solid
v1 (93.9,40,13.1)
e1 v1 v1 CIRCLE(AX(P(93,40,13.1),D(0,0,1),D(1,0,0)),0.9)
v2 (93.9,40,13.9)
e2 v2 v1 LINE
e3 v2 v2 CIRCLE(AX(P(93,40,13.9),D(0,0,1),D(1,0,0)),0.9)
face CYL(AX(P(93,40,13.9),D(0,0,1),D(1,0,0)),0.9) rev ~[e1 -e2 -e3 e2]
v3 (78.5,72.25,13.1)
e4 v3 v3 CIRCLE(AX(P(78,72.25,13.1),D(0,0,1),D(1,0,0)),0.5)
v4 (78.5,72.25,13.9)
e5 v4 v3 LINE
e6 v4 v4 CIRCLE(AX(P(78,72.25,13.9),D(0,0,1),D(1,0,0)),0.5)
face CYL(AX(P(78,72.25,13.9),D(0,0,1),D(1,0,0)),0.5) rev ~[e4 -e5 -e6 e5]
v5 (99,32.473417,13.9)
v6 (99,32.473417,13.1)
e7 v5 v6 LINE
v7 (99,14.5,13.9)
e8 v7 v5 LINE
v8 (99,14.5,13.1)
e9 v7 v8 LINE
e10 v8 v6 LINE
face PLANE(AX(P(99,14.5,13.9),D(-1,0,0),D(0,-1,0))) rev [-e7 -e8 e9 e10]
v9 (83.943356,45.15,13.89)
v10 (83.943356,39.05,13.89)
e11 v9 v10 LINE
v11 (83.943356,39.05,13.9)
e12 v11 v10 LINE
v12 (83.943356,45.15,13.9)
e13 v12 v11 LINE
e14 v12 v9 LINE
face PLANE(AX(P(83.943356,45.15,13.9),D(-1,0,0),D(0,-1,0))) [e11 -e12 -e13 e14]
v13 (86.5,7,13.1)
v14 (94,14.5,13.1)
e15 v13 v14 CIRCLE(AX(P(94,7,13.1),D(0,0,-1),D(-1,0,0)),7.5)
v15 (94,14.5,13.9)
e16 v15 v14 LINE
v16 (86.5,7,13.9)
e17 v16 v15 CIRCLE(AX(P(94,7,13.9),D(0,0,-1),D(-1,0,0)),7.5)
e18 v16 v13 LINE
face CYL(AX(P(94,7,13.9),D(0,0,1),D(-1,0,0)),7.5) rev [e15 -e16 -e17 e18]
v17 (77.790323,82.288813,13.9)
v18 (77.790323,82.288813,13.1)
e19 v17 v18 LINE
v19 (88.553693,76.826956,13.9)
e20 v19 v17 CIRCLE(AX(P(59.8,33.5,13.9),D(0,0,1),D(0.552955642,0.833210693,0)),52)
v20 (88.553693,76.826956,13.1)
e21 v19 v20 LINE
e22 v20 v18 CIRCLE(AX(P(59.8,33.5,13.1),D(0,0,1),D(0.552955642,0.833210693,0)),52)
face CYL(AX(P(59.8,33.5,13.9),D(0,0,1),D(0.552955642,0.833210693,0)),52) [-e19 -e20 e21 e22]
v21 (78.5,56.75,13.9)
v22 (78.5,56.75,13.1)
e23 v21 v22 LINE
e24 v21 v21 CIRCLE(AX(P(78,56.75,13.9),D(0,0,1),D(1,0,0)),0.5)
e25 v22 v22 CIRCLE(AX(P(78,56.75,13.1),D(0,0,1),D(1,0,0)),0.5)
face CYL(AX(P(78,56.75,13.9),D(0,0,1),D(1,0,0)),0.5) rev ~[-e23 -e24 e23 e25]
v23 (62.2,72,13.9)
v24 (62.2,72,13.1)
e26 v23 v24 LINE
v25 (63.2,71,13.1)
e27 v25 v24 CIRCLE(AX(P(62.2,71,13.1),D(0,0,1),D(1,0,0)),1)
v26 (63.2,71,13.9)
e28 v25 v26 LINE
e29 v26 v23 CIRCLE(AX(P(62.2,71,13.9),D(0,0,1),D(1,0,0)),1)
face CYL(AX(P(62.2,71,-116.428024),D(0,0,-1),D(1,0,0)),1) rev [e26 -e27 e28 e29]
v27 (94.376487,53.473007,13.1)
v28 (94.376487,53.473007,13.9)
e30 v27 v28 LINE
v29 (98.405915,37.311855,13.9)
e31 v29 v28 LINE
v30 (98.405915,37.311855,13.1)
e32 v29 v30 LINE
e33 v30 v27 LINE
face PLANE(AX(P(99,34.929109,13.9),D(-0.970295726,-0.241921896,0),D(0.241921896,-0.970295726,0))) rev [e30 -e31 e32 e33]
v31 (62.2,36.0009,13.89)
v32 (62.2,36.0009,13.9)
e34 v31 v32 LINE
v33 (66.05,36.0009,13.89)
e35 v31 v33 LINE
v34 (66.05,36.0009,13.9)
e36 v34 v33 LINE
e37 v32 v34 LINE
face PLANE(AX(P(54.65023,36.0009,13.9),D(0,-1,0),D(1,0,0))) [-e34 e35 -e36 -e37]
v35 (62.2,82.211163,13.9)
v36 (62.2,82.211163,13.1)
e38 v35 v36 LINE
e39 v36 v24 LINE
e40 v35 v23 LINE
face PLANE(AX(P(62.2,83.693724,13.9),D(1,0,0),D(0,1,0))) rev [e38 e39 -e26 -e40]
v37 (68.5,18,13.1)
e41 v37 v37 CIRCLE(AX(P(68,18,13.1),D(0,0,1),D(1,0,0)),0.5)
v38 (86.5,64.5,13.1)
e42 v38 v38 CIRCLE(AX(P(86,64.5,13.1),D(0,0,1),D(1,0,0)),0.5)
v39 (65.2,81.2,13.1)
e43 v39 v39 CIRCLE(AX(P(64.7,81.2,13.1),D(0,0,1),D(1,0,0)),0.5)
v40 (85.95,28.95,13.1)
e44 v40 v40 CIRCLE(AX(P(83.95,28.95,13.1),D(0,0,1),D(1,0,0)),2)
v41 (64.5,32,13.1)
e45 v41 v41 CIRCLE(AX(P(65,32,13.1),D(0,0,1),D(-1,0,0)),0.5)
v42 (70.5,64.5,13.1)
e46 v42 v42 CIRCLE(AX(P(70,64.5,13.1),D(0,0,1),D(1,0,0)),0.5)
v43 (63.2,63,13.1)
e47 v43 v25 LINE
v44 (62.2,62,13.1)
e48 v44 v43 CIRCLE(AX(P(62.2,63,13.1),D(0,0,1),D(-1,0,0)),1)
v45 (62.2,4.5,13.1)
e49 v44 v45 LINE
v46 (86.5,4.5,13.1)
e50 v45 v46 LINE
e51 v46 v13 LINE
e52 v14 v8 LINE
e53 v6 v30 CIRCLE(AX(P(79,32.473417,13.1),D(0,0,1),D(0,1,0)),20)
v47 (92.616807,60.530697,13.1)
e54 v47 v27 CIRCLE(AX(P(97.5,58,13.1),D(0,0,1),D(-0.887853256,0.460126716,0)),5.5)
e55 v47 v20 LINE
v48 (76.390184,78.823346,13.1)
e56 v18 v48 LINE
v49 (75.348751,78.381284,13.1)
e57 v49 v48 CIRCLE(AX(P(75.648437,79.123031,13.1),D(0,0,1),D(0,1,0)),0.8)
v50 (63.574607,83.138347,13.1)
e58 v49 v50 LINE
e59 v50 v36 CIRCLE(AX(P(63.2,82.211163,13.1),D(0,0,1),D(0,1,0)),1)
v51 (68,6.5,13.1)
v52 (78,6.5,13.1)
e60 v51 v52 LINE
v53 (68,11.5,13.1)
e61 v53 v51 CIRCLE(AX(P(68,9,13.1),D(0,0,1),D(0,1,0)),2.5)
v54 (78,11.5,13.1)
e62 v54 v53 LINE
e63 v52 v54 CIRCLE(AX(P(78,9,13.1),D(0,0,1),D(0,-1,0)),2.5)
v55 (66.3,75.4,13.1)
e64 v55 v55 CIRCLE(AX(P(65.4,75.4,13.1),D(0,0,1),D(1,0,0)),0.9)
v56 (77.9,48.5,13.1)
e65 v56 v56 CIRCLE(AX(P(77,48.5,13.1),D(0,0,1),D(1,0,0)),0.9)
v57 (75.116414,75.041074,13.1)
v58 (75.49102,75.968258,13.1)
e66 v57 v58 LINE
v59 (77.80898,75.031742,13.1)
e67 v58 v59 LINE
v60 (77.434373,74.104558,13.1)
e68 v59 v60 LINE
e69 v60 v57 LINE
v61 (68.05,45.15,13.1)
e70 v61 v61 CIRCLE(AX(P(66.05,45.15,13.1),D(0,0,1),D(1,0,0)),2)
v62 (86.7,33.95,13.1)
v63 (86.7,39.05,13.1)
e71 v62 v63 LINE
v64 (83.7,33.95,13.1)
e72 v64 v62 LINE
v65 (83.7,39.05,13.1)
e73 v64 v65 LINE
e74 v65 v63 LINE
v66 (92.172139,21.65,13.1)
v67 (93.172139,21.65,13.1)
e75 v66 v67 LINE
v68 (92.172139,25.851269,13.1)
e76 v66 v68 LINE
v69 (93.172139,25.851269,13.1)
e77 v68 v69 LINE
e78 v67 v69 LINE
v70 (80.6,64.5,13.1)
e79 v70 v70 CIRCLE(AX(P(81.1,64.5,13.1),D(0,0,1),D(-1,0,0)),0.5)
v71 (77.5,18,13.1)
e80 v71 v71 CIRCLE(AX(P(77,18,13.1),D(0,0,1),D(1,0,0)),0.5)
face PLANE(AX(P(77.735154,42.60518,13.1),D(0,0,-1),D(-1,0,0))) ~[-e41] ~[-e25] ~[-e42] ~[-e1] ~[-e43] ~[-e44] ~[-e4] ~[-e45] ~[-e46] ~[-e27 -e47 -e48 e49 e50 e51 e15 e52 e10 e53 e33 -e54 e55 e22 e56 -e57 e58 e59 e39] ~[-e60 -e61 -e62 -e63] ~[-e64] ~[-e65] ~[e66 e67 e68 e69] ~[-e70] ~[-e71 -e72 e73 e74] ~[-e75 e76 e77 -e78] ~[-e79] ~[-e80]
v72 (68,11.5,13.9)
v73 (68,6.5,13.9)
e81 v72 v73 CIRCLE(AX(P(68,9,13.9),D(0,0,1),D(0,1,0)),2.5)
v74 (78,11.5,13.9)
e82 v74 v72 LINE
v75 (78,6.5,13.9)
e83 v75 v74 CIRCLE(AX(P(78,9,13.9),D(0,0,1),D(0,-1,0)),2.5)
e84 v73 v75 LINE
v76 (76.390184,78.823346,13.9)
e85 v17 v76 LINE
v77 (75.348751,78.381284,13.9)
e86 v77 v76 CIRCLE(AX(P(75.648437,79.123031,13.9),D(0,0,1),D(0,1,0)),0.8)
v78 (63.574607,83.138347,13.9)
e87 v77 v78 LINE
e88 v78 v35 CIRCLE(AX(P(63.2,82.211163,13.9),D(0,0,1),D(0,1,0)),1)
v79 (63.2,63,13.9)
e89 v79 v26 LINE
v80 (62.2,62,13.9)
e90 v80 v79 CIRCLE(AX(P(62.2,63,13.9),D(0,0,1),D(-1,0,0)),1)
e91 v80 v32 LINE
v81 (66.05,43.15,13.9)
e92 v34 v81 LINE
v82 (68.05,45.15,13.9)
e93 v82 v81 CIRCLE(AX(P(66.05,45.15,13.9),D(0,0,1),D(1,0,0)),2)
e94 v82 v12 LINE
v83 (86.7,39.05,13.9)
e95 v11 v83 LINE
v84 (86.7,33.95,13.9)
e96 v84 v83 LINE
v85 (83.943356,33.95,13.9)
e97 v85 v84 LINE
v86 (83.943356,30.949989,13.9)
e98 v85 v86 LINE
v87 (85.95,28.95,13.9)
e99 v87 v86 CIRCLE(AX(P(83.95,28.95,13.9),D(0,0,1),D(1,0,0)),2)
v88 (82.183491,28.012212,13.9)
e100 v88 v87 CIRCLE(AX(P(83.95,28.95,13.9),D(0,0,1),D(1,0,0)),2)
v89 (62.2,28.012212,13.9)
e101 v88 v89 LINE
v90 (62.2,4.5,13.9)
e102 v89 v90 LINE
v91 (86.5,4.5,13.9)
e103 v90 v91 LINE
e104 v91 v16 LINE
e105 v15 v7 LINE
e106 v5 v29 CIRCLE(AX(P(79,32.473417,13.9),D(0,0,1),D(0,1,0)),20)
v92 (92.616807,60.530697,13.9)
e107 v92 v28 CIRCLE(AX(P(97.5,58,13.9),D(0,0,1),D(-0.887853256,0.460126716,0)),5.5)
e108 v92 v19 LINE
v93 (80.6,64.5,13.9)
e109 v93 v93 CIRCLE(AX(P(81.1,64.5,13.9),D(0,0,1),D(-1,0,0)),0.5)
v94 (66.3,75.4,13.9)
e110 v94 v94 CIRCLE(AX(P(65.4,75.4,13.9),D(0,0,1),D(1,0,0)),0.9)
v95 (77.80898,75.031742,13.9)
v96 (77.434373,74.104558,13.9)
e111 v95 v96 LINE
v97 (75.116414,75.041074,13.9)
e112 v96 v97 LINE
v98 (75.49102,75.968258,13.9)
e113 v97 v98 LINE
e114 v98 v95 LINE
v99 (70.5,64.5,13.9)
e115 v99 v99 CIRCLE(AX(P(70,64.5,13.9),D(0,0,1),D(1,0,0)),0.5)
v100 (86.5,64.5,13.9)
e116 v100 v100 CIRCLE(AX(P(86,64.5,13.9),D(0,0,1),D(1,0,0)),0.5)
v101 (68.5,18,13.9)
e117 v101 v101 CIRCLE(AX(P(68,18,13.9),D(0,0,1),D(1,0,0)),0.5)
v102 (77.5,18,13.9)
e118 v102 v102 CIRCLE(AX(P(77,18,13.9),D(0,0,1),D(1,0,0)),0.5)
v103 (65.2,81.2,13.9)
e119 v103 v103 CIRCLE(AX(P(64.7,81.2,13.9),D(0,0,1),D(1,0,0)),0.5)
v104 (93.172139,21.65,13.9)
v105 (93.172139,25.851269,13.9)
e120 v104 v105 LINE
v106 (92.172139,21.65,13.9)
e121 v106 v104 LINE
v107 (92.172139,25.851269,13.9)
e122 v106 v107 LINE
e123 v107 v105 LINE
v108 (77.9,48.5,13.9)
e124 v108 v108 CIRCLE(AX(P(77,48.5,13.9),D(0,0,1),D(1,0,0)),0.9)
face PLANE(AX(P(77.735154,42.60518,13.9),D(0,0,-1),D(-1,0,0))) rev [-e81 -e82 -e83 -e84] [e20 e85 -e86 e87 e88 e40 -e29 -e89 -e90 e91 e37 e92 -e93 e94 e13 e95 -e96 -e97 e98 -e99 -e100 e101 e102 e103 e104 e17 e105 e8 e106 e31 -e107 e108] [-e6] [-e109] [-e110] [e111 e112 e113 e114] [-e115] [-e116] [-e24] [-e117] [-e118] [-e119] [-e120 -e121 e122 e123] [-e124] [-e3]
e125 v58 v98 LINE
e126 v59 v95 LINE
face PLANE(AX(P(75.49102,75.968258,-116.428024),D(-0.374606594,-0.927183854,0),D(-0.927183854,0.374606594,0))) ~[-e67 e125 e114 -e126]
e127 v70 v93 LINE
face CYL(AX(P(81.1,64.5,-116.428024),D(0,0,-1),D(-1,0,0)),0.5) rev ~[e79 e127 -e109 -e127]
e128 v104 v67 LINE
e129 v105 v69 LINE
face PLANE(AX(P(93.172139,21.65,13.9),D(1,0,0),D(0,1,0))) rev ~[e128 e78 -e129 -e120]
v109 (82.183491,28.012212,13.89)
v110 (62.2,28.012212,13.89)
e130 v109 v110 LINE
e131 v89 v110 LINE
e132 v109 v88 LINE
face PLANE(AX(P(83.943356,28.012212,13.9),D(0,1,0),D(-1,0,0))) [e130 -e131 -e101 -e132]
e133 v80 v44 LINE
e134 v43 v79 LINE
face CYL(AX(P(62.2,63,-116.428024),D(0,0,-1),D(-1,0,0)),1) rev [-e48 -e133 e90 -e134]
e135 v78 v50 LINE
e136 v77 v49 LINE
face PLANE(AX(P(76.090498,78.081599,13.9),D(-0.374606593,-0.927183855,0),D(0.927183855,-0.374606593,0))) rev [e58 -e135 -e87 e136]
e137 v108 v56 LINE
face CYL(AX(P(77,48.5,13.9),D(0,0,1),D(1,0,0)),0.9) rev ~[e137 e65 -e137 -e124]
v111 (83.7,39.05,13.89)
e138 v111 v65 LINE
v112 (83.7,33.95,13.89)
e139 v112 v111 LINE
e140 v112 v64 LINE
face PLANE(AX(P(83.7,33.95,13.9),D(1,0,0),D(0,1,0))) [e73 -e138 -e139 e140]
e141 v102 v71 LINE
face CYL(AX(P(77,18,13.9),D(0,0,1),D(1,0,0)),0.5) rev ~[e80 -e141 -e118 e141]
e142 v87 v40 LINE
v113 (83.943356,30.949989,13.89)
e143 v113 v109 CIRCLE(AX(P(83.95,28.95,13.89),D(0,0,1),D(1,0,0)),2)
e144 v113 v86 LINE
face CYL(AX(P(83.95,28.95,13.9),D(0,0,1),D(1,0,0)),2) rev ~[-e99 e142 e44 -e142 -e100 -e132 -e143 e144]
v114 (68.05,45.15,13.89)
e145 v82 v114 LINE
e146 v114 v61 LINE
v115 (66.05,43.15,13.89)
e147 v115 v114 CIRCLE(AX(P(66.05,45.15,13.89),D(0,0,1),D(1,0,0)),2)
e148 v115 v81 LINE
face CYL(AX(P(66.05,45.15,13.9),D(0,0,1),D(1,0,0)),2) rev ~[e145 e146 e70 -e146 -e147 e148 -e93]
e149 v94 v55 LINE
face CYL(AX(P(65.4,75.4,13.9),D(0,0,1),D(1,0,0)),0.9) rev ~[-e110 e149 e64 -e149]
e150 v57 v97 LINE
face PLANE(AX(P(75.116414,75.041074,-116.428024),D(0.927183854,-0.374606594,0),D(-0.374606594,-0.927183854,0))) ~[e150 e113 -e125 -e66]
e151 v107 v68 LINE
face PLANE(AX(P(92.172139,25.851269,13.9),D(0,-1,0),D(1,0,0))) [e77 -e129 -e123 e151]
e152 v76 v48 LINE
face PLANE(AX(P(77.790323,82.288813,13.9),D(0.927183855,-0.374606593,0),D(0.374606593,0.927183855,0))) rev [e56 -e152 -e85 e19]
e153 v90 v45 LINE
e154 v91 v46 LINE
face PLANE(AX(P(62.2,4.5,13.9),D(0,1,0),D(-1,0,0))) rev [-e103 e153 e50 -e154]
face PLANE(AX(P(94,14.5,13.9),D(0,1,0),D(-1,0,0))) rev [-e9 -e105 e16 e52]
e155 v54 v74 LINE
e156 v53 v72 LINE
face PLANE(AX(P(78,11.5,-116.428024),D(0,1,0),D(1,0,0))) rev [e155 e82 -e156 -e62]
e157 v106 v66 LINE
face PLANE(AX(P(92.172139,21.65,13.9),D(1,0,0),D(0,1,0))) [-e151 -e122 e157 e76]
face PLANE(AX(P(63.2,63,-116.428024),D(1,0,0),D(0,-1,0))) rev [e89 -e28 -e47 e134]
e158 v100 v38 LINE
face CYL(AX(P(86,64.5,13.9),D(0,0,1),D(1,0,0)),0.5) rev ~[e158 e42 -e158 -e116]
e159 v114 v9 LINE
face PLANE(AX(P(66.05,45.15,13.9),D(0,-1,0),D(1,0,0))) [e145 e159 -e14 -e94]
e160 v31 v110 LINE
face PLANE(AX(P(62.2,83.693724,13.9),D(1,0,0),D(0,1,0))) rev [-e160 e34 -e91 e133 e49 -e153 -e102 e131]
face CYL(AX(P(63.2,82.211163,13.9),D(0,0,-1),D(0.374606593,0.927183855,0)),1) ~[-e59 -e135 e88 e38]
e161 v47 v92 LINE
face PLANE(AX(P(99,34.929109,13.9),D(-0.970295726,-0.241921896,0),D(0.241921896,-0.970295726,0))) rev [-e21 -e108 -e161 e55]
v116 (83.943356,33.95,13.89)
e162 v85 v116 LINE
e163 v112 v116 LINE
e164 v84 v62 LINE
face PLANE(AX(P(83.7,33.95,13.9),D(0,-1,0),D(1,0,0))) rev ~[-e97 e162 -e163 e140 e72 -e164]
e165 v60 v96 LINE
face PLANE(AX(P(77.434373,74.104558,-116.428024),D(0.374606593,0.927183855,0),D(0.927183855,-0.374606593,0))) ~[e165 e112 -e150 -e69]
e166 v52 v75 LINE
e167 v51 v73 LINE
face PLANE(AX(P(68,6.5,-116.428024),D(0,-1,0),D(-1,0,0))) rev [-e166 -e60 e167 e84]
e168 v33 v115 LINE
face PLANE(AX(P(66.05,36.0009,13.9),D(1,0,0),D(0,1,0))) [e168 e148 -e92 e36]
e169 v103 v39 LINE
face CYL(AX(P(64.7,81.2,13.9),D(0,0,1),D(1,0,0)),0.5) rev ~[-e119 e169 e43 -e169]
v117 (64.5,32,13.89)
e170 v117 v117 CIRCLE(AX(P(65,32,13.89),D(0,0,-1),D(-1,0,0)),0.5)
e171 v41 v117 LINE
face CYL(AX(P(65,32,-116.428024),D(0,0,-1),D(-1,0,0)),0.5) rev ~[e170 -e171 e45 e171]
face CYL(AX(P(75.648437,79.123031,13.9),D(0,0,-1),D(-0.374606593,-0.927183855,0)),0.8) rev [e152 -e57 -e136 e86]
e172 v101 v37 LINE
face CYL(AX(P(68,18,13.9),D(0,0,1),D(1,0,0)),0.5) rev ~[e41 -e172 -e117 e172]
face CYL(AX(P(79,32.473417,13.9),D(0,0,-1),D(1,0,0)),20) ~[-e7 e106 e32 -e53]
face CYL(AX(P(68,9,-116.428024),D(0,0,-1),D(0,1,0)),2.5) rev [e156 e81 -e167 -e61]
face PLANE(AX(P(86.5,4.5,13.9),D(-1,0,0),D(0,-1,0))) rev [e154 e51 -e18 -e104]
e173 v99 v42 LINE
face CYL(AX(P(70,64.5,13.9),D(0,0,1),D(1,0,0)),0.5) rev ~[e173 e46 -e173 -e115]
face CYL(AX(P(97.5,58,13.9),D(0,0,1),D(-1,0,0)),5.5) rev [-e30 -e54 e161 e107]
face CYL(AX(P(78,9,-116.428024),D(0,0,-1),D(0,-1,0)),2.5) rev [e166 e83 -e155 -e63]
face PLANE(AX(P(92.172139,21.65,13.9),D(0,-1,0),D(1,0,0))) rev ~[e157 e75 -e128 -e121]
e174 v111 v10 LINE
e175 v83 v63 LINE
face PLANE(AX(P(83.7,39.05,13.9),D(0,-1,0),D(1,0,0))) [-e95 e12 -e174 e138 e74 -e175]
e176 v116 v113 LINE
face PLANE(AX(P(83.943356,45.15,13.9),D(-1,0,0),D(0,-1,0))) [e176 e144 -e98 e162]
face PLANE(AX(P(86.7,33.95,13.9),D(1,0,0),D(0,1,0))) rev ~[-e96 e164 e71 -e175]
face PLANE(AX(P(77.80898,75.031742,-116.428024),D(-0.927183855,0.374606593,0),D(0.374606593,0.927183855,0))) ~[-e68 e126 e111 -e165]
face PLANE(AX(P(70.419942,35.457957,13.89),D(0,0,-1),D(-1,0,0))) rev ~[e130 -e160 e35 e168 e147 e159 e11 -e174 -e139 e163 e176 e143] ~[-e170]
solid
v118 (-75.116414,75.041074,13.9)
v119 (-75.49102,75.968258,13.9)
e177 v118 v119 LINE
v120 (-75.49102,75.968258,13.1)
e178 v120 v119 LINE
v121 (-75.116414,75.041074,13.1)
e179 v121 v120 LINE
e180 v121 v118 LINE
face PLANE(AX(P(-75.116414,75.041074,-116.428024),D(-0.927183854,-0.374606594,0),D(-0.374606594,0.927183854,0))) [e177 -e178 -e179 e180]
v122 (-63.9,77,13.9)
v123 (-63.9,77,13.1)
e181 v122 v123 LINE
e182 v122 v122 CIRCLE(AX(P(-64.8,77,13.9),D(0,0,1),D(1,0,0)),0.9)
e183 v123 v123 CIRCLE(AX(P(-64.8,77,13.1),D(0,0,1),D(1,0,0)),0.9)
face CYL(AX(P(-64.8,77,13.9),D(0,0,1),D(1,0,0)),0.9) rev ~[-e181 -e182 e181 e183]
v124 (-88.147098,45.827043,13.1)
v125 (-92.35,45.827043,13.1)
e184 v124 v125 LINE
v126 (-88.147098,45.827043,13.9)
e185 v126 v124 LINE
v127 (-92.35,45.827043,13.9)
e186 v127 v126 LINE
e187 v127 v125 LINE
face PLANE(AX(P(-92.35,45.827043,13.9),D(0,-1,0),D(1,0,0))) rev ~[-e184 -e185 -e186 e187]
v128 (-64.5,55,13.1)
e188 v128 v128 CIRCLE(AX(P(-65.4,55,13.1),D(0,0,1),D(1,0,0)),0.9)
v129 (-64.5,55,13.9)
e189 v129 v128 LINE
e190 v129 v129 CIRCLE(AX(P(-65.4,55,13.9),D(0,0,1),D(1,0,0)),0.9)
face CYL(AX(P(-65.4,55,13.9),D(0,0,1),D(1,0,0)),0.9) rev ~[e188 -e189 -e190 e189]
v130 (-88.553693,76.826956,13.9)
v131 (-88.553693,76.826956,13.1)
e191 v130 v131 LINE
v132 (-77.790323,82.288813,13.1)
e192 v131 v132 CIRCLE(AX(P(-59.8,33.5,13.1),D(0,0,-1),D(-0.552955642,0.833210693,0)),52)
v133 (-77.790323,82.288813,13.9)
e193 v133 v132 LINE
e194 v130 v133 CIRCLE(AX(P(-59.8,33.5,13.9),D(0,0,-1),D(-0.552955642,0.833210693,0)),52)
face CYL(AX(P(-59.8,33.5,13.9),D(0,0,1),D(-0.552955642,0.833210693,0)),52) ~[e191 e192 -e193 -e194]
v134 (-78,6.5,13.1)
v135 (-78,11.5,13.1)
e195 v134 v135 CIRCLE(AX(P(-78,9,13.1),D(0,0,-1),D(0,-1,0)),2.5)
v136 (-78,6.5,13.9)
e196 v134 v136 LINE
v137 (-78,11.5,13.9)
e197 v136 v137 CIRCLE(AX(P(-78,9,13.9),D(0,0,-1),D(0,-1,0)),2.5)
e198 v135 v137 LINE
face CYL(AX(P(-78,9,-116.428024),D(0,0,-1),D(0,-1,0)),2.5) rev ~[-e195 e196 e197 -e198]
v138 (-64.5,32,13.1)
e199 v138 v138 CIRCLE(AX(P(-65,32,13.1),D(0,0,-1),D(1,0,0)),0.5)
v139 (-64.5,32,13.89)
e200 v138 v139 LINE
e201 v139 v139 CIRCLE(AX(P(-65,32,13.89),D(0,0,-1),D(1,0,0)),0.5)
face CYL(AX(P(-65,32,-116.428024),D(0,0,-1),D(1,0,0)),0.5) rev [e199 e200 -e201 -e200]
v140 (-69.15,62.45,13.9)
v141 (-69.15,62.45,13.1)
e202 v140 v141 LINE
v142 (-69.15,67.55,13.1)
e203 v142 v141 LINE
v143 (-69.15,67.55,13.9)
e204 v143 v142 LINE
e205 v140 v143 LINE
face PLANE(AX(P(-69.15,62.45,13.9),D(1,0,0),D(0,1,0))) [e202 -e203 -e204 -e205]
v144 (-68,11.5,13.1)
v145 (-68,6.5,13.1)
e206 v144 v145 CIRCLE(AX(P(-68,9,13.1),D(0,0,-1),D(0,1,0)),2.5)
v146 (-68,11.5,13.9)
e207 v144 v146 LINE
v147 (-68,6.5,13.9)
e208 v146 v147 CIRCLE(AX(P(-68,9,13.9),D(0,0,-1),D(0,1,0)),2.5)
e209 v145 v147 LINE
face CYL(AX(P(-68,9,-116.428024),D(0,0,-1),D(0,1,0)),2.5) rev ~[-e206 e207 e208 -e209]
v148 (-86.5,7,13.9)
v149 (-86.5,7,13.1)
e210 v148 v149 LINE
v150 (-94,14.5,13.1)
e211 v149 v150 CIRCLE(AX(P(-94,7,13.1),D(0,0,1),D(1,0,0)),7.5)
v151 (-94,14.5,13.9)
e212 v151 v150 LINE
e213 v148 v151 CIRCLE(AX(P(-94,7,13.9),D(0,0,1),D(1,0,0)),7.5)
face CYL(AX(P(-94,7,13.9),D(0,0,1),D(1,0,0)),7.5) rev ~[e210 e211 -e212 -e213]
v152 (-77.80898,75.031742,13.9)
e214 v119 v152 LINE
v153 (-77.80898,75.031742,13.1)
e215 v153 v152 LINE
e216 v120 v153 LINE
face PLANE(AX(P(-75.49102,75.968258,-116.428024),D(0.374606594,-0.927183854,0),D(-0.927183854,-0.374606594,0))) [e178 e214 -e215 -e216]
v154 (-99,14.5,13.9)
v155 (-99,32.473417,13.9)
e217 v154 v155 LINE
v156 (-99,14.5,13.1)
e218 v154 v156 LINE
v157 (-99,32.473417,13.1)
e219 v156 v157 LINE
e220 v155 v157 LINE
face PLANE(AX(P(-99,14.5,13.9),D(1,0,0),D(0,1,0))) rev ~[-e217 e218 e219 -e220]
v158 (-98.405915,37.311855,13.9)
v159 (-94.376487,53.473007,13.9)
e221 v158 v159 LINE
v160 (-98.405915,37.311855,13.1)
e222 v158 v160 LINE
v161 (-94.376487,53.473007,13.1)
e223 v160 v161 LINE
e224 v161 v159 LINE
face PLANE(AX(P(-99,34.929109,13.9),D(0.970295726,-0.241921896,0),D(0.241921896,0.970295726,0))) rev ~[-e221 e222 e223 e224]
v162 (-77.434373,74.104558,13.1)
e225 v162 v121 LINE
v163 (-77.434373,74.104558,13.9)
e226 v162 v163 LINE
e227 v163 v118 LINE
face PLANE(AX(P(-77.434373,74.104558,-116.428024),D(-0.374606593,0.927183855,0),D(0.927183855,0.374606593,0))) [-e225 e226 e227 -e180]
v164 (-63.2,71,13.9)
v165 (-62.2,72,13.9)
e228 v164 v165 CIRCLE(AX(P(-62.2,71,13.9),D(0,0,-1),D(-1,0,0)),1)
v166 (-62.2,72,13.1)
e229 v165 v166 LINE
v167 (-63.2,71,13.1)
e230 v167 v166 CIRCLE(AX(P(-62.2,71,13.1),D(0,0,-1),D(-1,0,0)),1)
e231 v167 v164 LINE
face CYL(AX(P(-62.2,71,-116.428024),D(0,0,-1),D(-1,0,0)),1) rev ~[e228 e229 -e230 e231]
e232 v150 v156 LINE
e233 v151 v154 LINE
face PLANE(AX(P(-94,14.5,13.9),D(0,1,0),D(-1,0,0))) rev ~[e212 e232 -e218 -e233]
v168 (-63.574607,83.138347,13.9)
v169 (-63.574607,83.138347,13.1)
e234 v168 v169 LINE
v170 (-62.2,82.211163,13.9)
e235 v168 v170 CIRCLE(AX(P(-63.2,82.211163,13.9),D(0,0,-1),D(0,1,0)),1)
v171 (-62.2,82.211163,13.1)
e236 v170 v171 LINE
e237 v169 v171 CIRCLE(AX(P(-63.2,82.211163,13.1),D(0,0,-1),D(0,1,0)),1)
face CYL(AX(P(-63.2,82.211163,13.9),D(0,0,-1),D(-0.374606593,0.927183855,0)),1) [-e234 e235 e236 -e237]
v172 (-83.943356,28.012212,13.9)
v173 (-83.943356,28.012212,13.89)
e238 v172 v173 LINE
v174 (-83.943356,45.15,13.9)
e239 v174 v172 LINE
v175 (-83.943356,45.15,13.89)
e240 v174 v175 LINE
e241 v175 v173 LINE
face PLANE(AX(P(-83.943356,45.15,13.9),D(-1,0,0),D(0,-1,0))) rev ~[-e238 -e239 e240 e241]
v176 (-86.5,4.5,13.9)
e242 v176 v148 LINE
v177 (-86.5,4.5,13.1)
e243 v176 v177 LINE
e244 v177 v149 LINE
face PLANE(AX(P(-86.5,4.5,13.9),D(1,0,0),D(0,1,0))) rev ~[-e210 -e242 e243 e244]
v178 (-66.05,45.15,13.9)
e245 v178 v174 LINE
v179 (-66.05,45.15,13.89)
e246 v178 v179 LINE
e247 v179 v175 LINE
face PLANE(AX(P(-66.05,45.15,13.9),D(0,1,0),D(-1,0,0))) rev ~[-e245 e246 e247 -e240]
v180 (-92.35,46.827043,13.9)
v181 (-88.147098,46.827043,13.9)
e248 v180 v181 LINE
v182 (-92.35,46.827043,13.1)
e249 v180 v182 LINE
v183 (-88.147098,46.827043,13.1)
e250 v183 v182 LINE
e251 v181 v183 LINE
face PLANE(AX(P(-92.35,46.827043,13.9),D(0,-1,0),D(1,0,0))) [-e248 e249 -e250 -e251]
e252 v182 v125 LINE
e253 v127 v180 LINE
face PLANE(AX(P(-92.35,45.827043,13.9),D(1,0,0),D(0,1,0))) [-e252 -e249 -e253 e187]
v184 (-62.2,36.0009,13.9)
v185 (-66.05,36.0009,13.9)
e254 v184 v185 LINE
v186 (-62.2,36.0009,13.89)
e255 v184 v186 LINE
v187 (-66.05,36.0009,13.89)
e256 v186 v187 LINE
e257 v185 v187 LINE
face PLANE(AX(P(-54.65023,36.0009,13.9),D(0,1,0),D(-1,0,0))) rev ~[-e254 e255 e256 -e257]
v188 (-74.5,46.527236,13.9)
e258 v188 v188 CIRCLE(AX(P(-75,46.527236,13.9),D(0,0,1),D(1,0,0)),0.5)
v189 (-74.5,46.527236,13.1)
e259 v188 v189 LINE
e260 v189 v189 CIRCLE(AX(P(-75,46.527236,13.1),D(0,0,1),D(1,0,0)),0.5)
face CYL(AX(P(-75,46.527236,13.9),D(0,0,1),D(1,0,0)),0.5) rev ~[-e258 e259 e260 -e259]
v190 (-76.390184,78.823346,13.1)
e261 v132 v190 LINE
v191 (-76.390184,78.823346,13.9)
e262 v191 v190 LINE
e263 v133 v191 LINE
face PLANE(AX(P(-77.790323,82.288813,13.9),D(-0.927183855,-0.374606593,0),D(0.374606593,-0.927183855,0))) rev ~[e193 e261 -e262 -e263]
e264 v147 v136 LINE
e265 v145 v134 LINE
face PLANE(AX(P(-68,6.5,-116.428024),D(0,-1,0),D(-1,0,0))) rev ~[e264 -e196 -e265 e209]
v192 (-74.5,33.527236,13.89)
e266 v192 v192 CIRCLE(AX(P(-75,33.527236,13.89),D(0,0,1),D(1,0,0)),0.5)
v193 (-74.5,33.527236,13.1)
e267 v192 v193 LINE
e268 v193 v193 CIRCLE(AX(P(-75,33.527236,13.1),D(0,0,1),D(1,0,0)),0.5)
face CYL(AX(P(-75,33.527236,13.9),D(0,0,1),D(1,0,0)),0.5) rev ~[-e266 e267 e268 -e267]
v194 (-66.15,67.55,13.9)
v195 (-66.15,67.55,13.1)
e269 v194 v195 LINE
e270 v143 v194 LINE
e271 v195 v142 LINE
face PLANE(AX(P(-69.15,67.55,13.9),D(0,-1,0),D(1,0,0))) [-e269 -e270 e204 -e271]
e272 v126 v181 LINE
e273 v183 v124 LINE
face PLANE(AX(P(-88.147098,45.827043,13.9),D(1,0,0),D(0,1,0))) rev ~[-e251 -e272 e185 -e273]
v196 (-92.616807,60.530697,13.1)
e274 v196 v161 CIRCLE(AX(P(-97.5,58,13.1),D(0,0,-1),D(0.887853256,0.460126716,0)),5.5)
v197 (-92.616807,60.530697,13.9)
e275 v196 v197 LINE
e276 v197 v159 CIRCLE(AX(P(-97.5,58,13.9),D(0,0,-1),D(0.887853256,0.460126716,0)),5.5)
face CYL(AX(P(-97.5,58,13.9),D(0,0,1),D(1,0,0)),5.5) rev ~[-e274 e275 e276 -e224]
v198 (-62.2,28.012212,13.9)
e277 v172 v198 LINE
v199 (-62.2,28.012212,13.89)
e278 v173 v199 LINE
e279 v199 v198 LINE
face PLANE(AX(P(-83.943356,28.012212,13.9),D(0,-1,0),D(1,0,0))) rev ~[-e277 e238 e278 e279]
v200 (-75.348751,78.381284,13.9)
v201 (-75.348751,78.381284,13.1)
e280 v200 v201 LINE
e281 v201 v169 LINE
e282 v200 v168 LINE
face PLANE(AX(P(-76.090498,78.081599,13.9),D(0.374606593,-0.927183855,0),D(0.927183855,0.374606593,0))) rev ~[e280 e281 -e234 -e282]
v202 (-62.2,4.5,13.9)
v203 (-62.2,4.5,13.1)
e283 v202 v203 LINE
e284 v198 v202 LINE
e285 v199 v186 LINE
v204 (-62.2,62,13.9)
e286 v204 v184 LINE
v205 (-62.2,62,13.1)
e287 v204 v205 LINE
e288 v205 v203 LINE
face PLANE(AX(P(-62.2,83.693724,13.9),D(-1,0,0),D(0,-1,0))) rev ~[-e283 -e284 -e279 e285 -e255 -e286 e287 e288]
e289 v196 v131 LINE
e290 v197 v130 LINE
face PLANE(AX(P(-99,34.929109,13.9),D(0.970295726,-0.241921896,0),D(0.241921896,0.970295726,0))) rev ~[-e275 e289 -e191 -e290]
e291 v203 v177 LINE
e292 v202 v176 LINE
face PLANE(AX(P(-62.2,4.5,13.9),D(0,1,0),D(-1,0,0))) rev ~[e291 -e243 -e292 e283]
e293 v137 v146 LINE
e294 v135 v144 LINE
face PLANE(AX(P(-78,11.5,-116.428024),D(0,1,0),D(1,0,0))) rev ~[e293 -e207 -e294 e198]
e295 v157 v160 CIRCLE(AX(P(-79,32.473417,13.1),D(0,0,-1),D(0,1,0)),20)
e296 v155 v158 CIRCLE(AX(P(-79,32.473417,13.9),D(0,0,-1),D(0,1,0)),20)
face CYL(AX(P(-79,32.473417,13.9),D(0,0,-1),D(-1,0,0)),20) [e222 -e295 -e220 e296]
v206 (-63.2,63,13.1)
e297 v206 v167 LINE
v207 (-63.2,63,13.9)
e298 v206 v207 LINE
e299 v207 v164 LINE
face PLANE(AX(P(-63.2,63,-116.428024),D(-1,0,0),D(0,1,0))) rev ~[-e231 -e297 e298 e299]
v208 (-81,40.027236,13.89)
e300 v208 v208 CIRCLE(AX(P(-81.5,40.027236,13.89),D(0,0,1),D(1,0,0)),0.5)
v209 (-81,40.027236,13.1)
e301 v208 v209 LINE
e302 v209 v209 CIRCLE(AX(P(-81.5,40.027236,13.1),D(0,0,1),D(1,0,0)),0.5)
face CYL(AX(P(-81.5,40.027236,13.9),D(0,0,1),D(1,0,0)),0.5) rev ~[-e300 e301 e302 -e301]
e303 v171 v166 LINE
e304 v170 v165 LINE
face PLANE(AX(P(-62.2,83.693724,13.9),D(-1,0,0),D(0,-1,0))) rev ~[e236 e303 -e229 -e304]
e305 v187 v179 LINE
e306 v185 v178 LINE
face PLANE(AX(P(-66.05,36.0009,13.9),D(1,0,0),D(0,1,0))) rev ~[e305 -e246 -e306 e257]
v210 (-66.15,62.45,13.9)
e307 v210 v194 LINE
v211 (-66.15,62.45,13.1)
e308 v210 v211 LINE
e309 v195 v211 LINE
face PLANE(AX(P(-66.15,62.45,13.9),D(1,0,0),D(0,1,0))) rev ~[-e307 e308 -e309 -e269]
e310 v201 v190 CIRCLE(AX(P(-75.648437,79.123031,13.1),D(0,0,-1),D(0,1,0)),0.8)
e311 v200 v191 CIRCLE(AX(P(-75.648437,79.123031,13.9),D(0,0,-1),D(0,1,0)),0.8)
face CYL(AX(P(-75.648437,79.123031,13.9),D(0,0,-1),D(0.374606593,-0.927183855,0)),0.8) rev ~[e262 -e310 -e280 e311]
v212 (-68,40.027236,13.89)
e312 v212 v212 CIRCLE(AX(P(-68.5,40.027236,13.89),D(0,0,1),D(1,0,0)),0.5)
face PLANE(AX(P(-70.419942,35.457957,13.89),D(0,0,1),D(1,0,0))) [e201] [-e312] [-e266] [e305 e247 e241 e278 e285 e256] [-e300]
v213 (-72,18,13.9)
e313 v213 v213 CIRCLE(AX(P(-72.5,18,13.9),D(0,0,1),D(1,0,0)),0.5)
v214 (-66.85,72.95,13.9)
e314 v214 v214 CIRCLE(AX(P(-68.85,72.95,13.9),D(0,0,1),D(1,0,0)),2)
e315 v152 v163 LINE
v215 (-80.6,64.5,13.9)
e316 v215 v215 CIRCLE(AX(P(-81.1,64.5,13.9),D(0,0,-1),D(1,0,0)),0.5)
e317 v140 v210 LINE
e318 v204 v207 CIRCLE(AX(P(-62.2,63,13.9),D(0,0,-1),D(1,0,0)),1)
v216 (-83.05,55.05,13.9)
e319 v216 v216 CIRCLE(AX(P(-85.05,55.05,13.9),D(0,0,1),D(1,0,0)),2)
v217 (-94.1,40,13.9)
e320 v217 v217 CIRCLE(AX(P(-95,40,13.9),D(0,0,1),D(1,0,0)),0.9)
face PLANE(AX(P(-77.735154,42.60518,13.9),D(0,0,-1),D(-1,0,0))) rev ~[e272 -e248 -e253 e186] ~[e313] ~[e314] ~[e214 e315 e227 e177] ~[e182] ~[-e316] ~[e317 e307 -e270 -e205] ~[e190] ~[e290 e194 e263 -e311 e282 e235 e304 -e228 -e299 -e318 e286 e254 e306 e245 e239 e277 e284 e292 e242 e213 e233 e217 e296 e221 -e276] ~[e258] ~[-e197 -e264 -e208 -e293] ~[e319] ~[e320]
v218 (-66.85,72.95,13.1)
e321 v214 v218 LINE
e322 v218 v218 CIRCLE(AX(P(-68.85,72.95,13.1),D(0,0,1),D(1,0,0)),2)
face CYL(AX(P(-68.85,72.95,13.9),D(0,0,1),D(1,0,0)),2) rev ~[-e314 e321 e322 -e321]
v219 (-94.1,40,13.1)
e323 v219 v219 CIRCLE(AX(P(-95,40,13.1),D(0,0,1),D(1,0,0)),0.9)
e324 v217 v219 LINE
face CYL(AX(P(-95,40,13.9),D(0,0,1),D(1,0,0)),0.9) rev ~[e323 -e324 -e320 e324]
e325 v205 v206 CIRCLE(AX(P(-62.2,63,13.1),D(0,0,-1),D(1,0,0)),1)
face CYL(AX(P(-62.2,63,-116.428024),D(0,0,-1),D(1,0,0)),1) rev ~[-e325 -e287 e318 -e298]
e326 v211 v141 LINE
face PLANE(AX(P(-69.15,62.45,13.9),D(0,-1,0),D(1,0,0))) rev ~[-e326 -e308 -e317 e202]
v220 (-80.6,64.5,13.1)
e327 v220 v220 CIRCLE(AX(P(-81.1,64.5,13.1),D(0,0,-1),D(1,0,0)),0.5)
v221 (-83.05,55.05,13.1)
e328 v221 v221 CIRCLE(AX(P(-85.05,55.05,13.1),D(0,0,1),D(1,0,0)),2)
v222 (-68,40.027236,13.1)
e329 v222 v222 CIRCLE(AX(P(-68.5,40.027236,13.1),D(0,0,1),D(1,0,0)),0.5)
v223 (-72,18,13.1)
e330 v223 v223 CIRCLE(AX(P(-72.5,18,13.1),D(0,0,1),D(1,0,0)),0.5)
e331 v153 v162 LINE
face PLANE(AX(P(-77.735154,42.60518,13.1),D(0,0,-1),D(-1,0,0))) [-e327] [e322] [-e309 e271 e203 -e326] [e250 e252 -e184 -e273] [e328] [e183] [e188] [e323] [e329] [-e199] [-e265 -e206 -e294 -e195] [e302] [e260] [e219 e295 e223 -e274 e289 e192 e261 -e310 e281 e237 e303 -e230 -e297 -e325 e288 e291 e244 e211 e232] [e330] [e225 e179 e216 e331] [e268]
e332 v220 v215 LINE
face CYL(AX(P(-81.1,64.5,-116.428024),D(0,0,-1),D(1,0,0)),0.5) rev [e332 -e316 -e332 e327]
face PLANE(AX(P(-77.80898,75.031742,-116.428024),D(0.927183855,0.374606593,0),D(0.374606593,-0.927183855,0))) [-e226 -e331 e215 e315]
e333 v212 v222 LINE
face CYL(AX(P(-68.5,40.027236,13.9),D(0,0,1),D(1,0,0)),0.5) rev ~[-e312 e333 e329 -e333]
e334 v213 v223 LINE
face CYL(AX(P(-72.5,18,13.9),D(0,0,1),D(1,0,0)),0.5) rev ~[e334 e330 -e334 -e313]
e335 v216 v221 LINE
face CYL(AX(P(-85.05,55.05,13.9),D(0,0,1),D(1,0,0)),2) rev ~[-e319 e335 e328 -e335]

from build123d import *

# Parameters (mm, degrees)
AUFSATZ_LINEAR_AUSTRAGEN1_DEPTH      = 0.8
VERRUNDUNG1_R                        = 20
VERRUNDUNG3_R                        = 1
SKIZZE4_R                            = 5.5
SCHNITT_LINEAR_AUSTRAGEN2_DEPTH      = 130.32802365
SCHNITT_LINEAR_AUSTRAGEN3_DEPTH      = 130.32802365
SCHNITT_LINEAR_AUSTRAGEN3_DEPTH_BACK = 130.32802365
SKIZZE5_R                            = 0.5
VERRUNDUNG4_R                        = 0.8
SKIZZE3_R                            = 0.9
SKIZZE3_R_2                          = 2
SKIZZE3_R_3                          = 0.5
SKIZZE3_W                            = 3
SKIZZE3_H                            = 5.1
SKIZZE3_W_2                          = 4.20290216
SKIZZE3_H_2                          = 1
SKIZZE3_W_3                          = 1
SKIZZE3_H_3                          = 4.201269158
SCHNITT_LINEAR_AUSTRAGEN1_DEPTH      = 130.32802365
SCHNITT_LINEAR_AUSTRAGEN4_DEPTH      = 0.01


with BuildPart() as part:
    # Skizze2 → Aufsatz-Linear austragen1 (new body)
    with BuildSketch(Plane.XY.offset(13.9)):
        with BuildLine():
            Line((-94, 14.5), (-99, 14.5))
            Line((-99, 14.5), (-99, 34.929108521))
            Line((-99, 34.929108521), (-88.553693359, 76.826956023))
            ThreePointArc((-88.553693359, 76.826956023), (-83.331016666, 79.871233051), (-77.790323379, 82.288812905))
            Line((-77.790323379, 82.288812905), (-76.090498469, 78.081598618))
            Line((-76.090498469, 78.081598618), (-62.2, 83.693724289))
            Line((-62.2, 83.693724289), (-62.2, 4.5))
            Line((-62.2, 4.5), (-86.5, 4.5))
            Line((-86.5, 4.5), (-86.5, 7))
            ThreePointArc((-86.5, 7), (-88.696699141, 12.303300859), (-94, 14.5))
        make_face()
    extrude(amount=-AUFSATZ_LINEAR_AUSTRAGEN1_DEPTH)

    # Verrundung1
    verrundung1_edges = [part.edges().sort_by_distance(p)[0] for p in [
        (-99, 34.929108521, 13.5),
    ]]
    fillet(verrundung1_edges, radius=VERRUNDUNG1_R)

    # Verrundung3
    verrundung3_edges = [part.edges().sort_by_distance(p)[0] for p in [
        (-62.2, 83.693724289, 13.5),
    ]]
    fillet(verrundung3_edges, radius=VERRUNDUNG3_R)

    # Skizze4 → Schnitt-Linear austragen2 (cut, through all)
    with BuildSketch(Plane.XY.offset(13.9)):
        with Locations((-97.5, 58)):
            Circle(SKIZZE4_R)
    extrude(amount=-SCHNITT_LINEAR_AUSTRAGEN2_DEPTH, mode=Mode.SUBTRACT)

    # Skizze5 → Schnitt-Linear austragen3 (cut, two sides: drawn at the far end of the back side and taken through both)
    with BuildSketch(Plane.XY.offset(13.9).offset(-SCHNITT_LINEAR_AUSTRAGEN3_DEPTH_BACK)):
        with Locations((-65, 32)):
            Circle(SKIZZE5_R)
        with Locations((-81.1, 64.5)):
            Circle(SKIZZE5_R)
        with BuildLine():
            Line((-63.2, 63), (-63.2, 71))
            ThreePointArc((-63.2, 71), (-62.2, 72), (-61.2, 71))
            Line((-61.2, 71), (-61.2, 63))
            ThreePointArc((-61.2, 63), (-62.2, 62), (-63.2, 63))
        make_face()
        with BuildLine():
            Line((-78, 11.5), (-68, 11.5))
            ThreePointArc((-68, 11.5), (-65.5, 9), (-68, 6.5))
            Line((-68, 6.5), (-78, 6.5))
            ThreePointArc((-78, 6.5), (-80.5, 9), (-78, 11.5))
        make_face()
        Polygon((-77.808979818, 75.031741758), (-77.434373225, 74.104557904), (-75.116413588, 75.041074387), (-75.491020182, 75.968258242), align=None)
    extrude(amount=SCHNITT_LINEAR_AUSTRAGEN3_DEPTH + SCHNITT_LINEAR_AUSTRAGEN3_DEPTH_BACK, mode=Mode.SUBTRACT)

    # Verrundung4
    verrundung4_edges = [part.edges().sort_by_distance(p)[0] for p in [
        (-76.090498469, 78.081598618, 13.5),
    ]]
    fillet(verrundung4_edges, radius=VERRUNDUNG4_R)


with BuildPart() as body_2:
    # Spiegeln1: mirrored copy
    add(part.part.mirror(Plane(origin=(0, 0, 0), x_dir=(0, 0, 1), z_dir=(1, 0, 0))))


with BuildPart() as schnitt_linear_austragen1_tool:
    # Skizze3 → Schnitt-Linear austragen1 (new, through all)
    with BuildSketch(Plane.XY.offset(13.9)):
        with Locations((-64.8, 77)):
            Circle(SKIZZE3_R)
        with Locations((-68.85, 72.95)):
            Circle(SKIZZE3_R_2)
        with Locations((-85.05, 55.05)):
            Circle(SKIZZE3_R_2)
        with Locations((-65.4, 55)):
            Circle(SKIZZE3_R)
        with Locations((-95, 40)):
            Circle(SKIZZE3_R)
        with Locations((65.4, 75.4)):
            Circle(SKIZZE3_R)
        with Locations((77, 48.5)):
            Circle(SKIZZE3_R)
        with Locations((66.05, 45.15)):
            Circle(SKIZZE3_R_2)
        with Locations((83.95, 28.95)):
            Circle(SKIZZE3_R_2)
        with Locations((93, 40)):
            Circle(SKIZZE3_R)
        with Locations((64.7, 81.2)):
            Circle(SKIZZE3_R_3)
        with Locations((78, 72.250000005)):
            Circle(SKIZZE3_R_3)
        with Locations((86, 64.500000005)):
            Circle(SKIZZE3_R_3)
        with Locations((70, 64.500000005)):
            Circle(SKIZZE3_R_3)
        with Locations((78, 56.750000005)):
            Circle(SKIZZE3_R_3)
        with Locations((68, 18)):
            Circle(SKIZZE3_R_3)
        with Locations((77, 18)):
            Circle(SKIZZE3_R_3)
        with Locations((-72.5, 18)):
            Circle(SKIZZE3_R_3)
        with Locations((-75, 33.527236218)):
            Circle(SKIZZE3_R_3)
        with Locations((-81.5, 40.027236218)):
            Circle(SKIZZE3_R_3)
        with Locations((-68.5, 40.027236218)):
            Circle(SKIZZE3_R_3)
        with Locations((-75, 46.527236218)):
            Circle(SKIZZE3_R_3)
        with Locations((-67.65, 65)):
            Rectangle(SKIZZE3_W, SKIZZE3_H)
        with Locations((-90.24854892, 46.327042662)):
            Rectangle(SKIZZE3_W_2, SKIZZE3_H_2)
        with Locations((92.672138894, 23.750634579)):
            Rectangle(SKIZZE3_W_3, SKIZZE3_H_3)
        with Locations((85.2, 36.5)):
            Rectangle(SKIZZE3_W, SKIZZE3_H)
    extrude(amount=-SCHNITT_LINEAR_AUSTRAGEN1_DEPTH)


with BuildPart() as part_1:
    add(part.part)

    # Schnitt-Linear austragen1: cut by schnitt_linear_austragen1_tool
    add(schnitt_linear_austragen1_tool.part, mode=Mode.SUBTRACT)


with BuildPart() as body_2_1:
    add(body_2.part)

    # Schnitt-Linear austragen1: cut by schnitt_linear_austragen1_tool
    add(schnitt_linear_austragen1_tool.part, mode=Mode.SUBTRACT)


with BuildPart() as schnitt_linear_austragen4_tool:
    # Skizze6 → Schnitt-Linear austragen4 (new body)
    with BuildSketch(Plane.XY.offset(13.9)):
        Polygon((83.943356235, 45.15), (83.943356235, 28.012211583), (54.650229585, 28.012211583), (54.650229585, 36.000899632), (66.05, 36.000899632), (66.05, 45.15), align=None)
        Polygon((-66.05, 45.15), (-83.943356235, 45.15), (-83.943356235, 28.012211583), (-54.650229585, 28.012211583), (-54.650229585, 36.000899632), (-66.05, 36.000899632), align=None)
    extrude(amount=-SCHNITT_LINEAR_AUSTRAGEN4_DEPTH)


with BuildPart() as part_2:
    add(part_1.part)

    # Schnitt-Linear austragen4: cut by schnitt_linear_austragen4_tool
    add(schnitt_linear_austragen4_tool.part, mode=Mode.SUBTRACT)


with BuildPart() as body_2_2:
    add(body_2_1.part)

    # Schnitt-Linear austragen4: cut by schnitt_linear_austragen4_tool
    add(schnitt_linear_austragen4_tool.part, mode=Mode.SUBTRACT)


solid = Compound([part_2.part, body_2_2.part])
